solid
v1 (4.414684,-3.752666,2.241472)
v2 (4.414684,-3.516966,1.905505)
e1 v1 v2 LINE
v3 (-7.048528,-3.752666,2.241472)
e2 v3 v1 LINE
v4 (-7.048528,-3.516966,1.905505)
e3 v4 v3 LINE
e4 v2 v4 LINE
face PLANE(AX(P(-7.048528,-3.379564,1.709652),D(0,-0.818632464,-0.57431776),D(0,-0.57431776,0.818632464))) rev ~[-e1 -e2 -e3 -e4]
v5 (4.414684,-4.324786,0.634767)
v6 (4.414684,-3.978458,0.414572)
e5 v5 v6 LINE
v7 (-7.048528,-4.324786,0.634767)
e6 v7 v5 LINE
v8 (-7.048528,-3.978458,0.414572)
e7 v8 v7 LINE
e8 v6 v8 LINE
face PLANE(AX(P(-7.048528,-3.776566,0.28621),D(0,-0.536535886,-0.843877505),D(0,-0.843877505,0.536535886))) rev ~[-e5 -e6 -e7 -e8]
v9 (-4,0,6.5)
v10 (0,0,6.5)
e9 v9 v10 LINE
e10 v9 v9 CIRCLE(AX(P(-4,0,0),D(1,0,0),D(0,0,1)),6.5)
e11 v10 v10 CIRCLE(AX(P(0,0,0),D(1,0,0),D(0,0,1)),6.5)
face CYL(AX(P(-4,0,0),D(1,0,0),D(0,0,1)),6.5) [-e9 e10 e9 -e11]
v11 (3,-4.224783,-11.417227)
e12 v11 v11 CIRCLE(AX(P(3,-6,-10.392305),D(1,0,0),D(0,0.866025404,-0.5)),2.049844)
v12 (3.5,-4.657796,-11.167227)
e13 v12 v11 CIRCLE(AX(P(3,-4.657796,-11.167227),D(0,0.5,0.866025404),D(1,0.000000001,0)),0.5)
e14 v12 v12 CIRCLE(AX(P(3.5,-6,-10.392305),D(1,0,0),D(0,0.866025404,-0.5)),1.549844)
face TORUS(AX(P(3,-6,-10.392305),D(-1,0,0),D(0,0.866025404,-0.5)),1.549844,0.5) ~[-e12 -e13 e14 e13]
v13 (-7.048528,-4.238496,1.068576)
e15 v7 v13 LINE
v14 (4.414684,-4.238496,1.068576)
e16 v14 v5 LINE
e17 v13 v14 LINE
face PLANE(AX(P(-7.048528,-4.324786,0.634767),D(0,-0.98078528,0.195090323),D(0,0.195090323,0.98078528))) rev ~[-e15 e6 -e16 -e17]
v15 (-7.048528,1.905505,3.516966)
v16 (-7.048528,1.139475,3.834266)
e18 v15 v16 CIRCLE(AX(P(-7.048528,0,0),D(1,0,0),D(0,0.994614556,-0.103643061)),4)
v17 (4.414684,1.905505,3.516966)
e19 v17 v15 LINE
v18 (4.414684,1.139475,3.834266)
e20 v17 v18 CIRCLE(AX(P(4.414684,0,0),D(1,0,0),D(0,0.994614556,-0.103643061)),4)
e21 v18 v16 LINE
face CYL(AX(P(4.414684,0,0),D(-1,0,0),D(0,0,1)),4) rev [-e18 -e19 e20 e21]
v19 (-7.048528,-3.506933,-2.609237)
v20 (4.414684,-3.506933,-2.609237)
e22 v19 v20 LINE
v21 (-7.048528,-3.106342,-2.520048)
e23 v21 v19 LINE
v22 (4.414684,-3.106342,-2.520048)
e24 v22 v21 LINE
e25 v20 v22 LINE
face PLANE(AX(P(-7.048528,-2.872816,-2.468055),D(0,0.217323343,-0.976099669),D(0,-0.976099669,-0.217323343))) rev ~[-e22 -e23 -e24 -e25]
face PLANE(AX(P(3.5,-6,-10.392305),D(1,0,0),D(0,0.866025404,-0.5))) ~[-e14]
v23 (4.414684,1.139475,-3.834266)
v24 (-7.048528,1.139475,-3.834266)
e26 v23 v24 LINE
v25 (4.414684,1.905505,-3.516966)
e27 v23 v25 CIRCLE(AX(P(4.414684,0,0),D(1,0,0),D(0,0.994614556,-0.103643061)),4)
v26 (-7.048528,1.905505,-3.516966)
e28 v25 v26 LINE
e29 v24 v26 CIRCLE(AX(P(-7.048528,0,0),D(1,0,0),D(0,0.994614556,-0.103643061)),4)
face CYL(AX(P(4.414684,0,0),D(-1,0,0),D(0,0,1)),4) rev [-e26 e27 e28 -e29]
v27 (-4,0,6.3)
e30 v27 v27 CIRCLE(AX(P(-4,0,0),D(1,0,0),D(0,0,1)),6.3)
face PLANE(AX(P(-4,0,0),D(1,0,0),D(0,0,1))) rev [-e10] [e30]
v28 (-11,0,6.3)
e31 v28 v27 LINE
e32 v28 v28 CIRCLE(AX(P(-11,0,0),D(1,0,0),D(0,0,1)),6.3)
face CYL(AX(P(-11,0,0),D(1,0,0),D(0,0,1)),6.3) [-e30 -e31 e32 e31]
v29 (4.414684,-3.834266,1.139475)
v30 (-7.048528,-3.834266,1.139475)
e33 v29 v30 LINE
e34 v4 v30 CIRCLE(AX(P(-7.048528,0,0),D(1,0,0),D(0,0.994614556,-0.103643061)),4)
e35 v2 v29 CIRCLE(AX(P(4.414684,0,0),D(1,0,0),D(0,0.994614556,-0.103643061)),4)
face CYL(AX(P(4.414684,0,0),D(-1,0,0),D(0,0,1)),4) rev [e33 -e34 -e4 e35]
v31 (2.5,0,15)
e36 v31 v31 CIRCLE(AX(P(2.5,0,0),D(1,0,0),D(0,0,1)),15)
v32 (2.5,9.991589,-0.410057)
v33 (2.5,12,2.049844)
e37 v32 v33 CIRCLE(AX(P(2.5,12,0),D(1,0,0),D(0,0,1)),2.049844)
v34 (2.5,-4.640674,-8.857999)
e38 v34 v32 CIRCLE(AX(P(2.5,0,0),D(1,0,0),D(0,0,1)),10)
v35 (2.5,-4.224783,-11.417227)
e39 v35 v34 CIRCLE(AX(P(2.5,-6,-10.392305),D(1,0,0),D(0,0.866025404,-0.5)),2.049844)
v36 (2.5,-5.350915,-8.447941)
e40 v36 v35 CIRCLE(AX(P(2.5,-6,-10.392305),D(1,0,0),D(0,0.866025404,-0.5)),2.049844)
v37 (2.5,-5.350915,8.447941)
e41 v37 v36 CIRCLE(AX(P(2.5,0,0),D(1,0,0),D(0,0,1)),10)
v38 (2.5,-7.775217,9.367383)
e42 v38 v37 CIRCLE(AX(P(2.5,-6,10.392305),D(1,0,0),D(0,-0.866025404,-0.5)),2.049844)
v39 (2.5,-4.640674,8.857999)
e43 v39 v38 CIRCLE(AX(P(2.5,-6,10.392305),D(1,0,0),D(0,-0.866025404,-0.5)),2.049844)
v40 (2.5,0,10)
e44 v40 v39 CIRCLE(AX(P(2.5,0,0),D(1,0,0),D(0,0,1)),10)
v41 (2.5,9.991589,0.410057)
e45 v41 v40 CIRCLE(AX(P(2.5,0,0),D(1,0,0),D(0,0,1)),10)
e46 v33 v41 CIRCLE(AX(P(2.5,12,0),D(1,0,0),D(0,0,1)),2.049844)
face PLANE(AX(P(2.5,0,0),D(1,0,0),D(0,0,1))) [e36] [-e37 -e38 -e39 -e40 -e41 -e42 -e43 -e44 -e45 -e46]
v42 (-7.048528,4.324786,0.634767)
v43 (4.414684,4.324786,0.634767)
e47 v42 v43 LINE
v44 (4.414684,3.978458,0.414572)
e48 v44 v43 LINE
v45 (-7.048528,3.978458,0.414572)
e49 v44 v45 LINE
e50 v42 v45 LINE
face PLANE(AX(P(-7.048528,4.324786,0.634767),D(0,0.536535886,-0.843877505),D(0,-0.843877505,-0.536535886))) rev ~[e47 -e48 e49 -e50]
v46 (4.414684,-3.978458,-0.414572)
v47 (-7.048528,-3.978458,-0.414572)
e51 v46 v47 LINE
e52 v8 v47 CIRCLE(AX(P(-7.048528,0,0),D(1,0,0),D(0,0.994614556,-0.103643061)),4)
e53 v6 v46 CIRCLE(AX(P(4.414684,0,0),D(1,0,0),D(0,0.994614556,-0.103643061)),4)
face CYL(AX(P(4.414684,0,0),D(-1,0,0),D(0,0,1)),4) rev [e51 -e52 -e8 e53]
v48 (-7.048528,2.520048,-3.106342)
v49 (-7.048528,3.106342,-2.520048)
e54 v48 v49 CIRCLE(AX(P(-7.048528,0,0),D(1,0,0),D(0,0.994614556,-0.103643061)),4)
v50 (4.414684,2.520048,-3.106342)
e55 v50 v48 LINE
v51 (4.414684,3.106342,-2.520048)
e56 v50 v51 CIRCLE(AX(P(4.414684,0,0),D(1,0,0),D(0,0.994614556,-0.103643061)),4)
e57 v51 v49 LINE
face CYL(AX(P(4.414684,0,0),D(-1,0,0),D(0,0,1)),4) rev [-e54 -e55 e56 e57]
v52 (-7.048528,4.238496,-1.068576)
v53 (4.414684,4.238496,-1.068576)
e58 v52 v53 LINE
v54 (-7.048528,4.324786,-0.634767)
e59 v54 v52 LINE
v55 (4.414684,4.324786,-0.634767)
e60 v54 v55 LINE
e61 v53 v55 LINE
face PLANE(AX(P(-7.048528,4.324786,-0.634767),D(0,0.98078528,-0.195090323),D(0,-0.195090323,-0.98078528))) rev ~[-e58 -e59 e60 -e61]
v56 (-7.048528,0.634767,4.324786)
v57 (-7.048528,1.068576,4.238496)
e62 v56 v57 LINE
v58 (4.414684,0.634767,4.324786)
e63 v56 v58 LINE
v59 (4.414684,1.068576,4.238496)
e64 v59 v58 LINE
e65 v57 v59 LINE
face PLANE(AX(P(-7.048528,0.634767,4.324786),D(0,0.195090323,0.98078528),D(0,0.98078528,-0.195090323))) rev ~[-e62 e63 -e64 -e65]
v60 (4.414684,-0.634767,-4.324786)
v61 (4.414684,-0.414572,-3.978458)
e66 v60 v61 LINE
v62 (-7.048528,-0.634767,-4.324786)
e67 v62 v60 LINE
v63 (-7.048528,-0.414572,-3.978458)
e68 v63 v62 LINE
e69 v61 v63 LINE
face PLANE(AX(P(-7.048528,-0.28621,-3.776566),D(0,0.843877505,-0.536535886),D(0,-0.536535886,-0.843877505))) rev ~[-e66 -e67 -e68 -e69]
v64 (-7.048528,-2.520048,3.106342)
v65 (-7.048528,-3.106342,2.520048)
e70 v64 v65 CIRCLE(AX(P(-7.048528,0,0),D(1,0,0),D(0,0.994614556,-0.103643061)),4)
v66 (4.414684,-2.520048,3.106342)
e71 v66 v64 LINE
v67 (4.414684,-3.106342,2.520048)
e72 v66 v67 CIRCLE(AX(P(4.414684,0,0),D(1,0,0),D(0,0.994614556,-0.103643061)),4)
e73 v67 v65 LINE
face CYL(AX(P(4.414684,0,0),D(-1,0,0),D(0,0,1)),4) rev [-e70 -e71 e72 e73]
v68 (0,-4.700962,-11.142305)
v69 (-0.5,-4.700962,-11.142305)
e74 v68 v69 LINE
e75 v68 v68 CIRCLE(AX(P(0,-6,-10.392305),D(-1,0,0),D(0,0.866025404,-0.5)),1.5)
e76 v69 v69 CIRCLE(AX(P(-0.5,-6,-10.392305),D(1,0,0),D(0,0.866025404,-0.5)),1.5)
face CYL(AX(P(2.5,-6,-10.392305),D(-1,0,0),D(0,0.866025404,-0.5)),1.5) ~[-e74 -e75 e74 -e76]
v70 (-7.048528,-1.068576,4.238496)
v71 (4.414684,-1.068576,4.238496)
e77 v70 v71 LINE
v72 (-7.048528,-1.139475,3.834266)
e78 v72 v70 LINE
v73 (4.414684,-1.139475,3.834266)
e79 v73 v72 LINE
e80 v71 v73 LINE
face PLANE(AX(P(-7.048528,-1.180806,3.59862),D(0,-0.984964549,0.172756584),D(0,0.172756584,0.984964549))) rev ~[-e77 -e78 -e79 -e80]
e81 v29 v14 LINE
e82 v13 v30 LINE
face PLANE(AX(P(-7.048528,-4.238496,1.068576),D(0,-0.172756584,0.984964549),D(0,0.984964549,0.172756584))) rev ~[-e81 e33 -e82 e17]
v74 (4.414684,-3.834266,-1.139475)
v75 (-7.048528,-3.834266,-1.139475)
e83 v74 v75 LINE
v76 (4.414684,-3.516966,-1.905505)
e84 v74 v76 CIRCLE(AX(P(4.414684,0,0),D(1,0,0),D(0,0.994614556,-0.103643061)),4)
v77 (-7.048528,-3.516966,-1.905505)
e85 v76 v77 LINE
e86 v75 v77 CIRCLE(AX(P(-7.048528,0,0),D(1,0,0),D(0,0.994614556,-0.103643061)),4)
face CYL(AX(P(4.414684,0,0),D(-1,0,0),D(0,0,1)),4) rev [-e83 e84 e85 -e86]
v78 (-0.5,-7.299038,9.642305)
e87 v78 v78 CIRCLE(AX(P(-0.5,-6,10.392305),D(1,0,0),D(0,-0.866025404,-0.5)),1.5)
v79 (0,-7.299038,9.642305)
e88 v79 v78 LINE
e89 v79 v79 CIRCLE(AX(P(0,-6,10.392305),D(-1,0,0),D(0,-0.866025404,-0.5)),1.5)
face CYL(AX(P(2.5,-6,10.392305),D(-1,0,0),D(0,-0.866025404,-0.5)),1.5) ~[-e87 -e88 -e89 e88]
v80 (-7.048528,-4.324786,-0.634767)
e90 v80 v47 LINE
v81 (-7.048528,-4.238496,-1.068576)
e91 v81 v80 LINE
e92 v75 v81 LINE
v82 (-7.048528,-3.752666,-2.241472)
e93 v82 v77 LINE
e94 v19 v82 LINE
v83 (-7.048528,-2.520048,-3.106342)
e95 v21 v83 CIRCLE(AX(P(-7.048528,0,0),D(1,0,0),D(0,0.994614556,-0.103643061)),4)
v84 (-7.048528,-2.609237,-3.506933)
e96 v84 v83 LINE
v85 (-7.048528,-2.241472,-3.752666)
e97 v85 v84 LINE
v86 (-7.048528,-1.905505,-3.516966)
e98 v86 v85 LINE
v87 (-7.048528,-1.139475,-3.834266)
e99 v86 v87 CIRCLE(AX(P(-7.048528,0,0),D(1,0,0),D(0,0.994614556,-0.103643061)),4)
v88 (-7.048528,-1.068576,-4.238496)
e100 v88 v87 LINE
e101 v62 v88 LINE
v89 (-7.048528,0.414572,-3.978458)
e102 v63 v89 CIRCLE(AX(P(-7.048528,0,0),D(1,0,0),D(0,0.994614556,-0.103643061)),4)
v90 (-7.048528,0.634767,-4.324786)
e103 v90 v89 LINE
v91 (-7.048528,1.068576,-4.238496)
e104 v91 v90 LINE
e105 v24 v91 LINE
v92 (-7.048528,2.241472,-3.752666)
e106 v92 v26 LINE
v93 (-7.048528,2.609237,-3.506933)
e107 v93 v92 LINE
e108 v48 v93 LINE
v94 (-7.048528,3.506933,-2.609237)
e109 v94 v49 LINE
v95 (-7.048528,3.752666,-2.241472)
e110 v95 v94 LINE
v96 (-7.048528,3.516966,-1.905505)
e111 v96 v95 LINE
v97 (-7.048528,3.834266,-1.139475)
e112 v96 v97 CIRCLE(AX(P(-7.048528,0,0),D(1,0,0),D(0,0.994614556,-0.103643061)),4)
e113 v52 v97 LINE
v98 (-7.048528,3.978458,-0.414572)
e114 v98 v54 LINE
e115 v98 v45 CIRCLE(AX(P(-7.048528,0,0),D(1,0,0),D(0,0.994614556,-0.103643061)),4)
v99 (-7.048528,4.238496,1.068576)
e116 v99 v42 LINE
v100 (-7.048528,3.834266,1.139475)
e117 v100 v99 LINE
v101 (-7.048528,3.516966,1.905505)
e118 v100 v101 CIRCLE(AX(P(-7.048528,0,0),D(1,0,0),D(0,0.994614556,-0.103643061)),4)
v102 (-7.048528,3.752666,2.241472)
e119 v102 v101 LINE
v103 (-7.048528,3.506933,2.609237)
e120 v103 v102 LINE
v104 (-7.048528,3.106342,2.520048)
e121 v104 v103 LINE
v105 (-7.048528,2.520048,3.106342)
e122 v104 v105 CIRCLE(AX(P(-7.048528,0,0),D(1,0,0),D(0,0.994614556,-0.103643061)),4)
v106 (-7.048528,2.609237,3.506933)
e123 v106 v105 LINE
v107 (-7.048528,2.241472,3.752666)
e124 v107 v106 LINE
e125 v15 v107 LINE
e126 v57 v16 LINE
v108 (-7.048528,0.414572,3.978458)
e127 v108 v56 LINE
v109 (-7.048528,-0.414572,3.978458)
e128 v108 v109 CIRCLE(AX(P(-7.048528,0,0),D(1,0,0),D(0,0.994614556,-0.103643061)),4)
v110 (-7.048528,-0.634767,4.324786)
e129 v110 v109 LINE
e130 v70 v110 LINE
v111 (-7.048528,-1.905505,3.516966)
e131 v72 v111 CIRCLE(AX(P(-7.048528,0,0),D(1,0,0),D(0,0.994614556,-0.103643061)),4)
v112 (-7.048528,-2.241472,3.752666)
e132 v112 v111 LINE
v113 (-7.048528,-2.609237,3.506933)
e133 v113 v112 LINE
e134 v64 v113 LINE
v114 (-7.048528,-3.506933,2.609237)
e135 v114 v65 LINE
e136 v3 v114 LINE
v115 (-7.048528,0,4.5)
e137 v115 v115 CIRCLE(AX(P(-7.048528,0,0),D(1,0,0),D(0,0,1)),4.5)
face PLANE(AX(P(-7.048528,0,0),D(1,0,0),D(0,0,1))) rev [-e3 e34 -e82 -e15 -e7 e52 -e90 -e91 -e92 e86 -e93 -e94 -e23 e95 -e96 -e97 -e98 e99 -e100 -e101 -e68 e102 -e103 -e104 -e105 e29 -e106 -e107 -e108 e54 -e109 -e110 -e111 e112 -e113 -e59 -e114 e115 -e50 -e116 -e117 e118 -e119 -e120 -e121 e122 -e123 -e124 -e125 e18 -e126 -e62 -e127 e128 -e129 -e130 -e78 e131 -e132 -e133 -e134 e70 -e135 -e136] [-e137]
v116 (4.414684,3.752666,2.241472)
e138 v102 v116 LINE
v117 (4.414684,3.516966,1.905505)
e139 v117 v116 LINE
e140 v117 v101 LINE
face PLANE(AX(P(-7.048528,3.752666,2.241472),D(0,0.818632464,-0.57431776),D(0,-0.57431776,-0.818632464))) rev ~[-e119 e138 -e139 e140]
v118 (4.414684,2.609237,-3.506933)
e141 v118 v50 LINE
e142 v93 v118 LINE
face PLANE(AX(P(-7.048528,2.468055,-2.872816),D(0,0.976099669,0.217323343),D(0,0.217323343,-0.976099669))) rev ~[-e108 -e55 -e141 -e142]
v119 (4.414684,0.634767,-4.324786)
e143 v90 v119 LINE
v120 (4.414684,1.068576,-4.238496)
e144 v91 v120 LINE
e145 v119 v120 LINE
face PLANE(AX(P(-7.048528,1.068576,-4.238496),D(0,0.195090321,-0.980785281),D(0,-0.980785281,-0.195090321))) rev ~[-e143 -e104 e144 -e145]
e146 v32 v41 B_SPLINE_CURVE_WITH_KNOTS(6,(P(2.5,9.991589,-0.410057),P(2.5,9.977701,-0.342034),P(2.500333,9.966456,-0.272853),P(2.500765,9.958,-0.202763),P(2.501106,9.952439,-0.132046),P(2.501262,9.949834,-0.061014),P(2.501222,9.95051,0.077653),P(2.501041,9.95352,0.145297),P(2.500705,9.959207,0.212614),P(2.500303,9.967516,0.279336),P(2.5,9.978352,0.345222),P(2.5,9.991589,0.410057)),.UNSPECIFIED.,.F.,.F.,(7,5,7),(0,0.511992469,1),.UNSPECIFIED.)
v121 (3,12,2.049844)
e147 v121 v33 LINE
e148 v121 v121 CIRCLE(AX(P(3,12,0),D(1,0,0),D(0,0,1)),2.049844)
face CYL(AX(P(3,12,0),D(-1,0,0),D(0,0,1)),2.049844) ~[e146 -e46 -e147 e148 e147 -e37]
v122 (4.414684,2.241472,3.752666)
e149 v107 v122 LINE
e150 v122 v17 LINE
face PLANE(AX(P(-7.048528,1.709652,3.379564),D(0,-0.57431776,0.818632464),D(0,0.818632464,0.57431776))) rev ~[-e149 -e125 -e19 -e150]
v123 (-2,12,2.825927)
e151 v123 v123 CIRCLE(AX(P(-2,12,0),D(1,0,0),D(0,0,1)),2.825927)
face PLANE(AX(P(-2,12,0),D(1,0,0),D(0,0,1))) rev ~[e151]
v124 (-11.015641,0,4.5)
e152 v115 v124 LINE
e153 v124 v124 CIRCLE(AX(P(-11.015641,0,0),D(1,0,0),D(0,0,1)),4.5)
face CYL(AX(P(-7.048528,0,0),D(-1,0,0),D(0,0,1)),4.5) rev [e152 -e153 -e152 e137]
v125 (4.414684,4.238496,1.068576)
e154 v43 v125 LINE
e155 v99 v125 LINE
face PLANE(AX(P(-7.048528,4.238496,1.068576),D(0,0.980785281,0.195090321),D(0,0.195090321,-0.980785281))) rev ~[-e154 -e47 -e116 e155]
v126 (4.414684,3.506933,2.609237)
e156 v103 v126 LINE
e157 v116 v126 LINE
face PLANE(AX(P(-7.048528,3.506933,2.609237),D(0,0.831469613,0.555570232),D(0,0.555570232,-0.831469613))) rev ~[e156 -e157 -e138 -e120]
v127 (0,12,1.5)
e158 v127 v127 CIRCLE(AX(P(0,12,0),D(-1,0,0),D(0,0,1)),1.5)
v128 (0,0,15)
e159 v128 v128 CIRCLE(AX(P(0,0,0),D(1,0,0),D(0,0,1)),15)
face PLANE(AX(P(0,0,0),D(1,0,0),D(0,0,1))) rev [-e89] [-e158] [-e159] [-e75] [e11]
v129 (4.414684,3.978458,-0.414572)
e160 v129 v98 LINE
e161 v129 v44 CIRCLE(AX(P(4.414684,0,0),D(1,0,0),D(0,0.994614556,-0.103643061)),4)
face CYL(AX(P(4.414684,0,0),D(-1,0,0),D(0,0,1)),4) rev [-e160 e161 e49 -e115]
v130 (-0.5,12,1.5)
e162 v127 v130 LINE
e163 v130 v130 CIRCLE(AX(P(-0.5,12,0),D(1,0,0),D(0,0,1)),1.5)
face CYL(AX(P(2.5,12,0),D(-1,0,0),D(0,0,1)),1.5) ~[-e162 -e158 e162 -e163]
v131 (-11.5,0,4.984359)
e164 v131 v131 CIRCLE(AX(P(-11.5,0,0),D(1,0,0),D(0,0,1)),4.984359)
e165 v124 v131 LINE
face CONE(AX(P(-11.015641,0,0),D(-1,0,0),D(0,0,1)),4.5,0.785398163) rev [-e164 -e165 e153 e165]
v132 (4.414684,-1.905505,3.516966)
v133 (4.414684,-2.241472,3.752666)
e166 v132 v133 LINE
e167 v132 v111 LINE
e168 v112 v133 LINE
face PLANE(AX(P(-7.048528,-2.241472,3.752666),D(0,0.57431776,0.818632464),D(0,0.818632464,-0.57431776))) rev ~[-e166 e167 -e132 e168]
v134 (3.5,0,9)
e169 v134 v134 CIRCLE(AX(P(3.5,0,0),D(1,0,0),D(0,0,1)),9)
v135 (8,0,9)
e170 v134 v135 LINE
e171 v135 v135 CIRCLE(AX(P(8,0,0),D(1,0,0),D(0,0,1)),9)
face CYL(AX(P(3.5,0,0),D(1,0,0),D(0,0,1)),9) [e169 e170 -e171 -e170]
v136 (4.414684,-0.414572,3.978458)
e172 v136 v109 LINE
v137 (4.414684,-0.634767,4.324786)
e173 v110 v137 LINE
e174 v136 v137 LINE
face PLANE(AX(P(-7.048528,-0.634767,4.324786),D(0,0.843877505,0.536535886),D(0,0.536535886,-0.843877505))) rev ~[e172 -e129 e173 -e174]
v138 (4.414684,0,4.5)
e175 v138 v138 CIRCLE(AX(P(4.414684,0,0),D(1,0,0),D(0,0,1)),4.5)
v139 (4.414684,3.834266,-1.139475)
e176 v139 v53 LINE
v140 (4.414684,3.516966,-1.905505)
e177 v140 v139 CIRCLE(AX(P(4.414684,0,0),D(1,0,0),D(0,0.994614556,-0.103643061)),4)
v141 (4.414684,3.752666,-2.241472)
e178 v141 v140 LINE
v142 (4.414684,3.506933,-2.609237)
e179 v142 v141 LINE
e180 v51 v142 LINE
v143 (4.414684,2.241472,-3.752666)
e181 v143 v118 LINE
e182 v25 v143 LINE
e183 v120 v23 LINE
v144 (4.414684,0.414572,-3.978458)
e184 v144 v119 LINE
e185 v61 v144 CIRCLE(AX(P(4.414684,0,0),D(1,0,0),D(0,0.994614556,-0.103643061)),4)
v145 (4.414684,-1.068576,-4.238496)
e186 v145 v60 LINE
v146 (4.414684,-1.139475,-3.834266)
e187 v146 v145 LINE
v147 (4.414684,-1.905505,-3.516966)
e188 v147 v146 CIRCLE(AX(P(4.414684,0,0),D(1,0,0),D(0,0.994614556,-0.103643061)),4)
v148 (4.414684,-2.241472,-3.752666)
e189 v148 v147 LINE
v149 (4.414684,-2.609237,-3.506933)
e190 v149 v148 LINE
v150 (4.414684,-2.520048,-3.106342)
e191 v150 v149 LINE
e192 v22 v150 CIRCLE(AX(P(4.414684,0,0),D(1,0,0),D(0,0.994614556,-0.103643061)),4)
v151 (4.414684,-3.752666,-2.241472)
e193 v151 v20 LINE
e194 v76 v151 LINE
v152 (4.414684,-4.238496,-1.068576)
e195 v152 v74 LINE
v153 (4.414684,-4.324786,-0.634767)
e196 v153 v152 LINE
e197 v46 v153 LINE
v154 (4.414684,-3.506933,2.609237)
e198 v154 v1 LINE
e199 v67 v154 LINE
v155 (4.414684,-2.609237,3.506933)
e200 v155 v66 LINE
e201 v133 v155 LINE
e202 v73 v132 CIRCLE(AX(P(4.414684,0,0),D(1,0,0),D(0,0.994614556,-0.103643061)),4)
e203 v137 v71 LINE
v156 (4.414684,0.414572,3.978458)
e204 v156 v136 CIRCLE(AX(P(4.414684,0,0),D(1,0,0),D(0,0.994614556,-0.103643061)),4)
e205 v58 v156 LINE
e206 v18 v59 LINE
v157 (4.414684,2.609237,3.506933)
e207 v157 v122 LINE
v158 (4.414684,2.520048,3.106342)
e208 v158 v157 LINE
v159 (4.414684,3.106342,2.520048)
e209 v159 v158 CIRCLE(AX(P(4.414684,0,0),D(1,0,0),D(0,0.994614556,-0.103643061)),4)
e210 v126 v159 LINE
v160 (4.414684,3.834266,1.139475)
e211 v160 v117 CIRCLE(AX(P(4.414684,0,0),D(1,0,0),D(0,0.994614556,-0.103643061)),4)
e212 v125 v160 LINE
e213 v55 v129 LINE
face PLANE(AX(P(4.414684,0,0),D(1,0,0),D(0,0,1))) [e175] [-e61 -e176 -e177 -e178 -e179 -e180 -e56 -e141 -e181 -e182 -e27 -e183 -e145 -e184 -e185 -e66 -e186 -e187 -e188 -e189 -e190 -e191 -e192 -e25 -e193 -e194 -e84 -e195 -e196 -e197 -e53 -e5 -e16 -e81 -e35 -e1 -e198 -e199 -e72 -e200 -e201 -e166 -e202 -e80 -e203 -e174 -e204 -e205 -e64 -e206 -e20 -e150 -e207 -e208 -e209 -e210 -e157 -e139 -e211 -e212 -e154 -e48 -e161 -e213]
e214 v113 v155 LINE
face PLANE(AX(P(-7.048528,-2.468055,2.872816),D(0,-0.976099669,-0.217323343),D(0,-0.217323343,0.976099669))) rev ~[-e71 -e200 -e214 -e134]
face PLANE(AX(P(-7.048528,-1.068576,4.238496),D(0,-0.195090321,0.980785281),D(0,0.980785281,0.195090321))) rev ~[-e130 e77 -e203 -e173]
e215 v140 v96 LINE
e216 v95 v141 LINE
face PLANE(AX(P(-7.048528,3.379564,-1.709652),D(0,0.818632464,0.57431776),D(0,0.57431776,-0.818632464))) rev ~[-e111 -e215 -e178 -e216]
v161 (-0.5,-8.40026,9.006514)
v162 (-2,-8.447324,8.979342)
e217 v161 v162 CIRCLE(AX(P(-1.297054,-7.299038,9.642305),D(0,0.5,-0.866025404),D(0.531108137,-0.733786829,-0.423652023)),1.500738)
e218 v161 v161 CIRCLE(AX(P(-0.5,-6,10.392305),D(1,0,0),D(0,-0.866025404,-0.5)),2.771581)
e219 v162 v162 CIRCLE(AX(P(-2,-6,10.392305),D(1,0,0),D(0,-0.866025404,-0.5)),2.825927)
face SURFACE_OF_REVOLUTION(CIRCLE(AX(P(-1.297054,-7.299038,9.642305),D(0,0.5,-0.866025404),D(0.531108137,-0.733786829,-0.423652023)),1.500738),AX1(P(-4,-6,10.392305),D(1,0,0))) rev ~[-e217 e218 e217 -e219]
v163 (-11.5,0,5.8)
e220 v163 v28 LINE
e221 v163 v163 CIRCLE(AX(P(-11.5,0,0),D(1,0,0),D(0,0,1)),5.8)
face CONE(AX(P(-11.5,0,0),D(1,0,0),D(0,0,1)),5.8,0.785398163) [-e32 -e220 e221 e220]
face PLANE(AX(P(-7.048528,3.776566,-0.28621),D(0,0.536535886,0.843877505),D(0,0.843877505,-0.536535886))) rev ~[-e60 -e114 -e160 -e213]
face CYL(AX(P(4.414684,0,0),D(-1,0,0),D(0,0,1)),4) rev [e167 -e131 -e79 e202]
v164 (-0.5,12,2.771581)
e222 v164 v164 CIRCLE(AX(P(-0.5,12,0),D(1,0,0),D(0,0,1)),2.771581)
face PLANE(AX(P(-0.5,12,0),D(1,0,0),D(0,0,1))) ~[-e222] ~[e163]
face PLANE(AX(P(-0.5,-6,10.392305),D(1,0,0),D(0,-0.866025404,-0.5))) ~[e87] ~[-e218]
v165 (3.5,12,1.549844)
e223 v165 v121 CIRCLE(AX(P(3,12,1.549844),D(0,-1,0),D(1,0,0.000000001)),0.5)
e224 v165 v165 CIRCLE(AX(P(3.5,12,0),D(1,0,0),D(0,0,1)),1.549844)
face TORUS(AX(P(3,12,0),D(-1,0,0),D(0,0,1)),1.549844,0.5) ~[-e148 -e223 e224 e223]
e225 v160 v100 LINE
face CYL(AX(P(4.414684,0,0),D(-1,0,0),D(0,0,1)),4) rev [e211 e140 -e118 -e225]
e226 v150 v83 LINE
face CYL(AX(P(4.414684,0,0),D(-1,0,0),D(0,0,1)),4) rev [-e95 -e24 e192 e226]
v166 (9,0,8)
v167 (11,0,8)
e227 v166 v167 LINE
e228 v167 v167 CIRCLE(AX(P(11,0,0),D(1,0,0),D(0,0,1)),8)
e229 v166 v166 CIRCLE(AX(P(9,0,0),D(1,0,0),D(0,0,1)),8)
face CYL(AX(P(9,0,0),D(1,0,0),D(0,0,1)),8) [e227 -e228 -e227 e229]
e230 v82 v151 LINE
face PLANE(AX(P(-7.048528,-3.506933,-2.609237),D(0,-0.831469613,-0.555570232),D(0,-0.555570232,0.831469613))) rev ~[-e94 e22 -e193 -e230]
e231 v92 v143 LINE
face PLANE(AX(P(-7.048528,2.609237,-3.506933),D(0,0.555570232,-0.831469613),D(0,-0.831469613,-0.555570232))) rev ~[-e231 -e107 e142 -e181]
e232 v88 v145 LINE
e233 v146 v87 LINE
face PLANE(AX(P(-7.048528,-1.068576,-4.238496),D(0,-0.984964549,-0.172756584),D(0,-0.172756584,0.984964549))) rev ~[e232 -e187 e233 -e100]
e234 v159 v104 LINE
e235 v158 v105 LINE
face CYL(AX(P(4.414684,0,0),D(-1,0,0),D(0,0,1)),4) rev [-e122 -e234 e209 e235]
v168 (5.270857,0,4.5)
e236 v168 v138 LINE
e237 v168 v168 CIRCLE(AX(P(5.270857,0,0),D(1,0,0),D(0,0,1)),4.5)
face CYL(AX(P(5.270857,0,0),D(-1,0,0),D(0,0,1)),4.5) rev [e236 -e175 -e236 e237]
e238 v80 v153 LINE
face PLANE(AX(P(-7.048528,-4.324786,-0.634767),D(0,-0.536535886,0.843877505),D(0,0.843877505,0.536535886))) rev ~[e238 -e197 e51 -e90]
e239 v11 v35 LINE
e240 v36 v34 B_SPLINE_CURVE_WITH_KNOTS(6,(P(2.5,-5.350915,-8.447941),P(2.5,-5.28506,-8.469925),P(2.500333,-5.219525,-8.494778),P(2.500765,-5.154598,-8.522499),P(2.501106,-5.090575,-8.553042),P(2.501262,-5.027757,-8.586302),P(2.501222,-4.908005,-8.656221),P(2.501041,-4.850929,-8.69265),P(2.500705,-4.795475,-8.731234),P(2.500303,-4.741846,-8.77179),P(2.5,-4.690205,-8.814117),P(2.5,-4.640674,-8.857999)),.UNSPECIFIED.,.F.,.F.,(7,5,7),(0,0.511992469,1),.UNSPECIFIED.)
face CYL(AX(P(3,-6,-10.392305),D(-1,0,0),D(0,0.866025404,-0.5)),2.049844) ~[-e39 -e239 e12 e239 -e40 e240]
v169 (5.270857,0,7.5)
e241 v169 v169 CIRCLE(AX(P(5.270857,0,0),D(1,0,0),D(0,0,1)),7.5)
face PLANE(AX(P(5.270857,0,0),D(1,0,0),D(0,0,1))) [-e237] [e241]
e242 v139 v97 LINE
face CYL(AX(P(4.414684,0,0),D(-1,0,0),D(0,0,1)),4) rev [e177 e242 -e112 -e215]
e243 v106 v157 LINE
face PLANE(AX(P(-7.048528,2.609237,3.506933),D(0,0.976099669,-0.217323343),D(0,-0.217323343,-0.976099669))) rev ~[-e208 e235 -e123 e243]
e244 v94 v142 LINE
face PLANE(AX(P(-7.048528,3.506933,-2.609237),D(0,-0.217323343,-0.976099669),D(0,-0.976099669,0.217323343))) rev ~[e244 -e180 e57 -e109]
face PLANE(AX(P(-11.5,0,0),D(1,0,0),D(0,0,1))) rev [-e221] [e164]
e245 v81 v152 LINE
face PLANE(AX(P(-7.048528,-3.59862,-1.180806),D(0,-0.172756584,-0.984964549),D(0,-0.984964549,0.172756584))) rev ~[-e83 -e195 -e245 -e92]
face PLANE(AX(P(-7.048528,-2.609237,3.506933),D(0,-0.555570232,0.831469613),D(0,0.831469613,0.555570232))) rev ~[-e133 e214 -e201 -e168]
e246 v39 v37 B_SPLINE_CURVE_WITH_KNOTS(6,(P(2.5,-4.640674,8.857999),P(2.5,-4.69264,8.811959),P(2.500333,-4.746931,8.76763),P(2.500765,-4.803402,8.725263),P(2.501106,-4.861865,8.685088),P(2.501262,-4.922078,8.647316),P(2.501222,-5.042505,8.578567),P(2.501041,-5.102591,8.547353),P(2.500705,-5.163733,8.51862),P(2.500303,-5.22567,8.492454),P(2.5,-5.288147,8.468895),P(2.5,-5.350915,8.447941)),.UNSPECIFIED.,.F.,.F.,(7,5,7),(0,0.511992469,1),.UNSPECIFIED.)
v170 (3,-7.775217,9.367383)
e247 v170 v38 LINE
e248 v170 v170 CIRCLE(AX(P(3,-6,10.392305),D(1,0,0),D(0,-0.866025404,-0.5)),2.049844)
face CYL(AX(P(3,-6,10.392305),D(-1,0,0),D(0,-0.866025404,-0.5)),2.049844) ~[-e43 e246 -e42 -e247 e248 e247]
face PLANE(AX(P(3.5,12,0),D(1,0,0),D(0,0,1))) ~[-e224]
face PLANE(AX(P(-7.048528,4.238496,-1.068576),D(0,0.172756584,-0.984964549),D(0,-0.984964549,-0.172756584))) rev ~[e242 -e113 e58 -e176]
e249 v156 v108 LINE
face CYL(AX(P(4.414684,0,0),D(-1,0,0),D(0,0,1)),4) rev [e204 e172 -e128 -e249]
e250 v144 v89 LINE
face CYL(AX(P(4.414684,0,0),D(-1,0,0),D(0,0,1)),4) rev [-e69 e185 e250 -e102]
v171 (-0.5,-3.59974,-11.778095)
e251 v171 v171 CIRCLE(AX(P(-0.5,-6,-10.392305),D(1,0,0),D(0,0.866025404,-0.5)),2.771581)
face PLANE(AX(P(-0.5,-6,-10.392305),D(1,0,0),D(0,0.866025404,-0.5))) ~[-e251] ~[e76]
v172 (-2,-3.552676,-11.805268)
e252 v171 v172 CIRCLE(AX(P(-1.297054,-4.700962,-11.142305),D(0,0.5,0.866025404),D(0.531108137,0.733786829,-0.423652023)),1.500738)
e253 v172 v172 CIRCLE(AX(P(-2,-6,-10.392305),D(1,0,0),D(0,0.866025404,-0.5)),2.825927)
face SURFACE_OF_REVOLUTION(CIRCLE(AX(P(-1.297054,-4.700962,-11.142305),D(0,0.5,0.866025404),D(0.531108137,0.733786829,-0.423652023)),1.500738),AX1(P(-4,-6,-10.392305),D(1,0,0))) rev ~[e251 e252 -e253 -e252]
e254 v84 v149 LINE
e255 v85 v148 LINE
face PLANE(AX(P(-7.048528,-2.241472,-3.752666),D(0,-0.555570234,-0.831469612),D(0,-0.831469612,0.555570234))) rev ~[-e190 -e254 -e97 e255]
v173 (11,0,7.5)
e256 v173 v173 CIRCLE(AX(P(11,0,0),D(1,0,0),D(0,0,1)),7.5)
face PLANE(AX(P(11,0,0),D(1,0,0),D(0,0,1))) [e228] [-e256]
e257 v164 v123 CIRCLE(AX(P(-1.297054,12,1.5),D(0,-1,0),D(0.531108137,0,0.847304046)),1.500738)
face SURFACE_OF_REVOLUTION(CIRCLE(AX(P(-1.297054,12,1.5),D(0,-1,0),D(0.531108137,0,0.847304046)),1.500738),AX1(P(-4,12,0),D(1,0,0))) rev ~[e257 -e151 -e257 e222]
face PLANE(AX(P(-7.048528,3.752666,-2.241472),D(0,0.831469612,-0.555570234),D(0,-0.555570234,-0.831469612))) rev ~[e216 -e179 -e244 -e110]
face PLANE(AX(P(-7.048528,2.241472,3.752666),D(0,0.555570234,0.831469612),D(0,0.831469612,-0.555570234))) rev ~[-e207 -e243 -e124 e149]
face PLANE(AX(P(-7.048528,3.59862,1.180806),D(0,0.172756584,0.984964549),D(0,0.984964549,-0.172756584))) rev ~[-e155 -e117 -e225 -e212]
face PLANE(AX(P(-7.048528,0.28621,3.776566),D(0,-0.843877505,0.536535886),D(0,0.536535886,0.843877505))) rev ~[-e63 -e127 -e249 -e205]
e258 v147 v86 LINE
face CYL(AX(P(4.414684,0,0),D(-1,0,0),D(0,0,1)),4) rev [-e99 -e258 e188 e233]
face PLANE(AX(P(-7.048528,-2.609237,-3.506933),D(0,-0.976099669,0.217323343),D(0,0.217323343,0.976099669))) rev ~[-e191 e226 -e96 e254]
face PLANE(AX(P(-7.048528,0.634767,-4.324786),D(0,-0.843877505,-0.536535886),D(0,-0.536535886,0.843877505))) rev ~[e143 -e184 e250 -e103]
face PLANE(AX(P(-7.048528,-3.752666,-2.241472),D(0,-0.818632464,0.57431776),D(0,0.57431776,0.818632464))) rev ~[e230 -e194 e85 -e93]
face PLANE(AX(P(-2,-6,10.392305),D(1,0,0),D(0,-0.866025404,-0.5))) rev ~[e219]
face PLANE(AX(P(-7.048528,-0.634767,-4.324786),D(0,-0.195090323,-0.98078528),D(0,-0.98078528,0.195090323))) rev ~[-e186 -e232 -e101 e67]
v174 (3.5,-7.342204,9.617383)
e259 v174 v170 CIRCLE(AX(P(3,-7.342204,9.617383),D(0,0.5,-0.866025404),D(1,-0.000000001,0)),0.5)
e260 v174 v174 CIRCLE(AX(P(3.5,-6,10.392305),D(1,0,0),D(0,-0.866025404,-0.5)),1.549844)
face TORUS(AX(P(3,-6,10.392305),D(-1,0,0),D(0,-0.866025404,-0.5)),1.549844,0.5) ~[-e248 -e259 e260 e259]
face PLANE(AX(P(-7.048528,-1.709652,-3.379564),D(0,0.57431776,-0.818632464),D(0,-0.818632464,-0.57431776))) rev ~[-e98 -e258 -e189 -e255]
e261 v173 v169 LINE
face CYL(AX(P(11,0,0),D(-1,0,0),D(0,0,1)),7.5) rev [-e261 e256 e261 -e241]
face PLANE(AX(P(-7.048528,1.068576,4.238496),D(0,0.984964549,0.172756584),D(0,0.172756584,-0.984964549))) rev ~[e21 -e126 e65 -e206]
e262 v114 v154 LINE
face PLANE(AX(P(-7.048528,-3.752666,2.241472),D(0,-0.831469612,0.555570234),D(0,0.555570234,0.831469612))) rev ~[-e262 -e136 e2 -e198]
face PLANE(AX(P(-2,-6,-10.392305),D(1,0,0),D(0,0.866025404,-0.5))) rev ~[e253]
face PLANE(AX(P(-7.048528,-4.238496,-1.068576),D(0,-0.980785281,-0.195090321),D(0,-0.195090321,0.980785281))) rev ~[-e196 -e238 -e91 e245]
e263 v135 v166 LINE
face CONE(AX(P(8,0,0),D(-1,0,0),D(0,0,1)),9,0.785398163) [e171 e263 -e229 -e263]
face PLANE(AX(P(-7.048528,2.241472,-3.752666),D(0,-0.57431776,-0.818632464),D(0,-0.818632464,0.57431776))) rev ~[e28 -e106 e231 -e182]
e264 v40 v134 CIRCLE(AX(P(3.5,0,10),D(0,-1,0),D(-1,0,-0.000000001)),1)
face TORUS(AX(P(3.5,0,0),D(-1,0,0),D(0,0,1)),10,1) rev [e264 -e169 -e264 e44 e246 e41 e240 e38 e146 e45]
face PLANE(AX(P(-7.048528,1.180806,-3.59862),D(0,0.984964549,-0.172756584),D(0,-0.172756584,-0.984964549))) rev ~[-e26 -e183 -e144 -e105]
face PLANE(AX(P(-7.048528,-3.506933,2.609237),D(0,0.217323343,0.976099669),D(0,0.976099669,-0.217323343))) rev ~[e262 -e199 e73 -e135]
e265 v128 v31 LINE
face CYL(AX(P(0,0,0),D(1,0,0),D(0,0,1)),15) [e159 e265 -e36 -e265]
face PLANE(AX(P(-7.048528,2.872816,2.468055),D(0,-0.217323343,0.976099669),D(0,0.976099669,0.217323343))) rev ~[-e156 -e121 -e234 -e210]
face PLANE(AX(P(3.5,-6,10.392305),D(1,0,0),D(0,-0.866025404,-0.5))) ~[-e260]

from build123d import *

# Parameters (mm, degrees)
R_P_TITION_CIRCULAIRE1_COUNT = 3
ENL_V_MAT_EXTRU_1_DEPTH      = 28.852674991
R_P_TITION_CIRCULAIRE2_COUNT = 16


with BuildPart() as part:
    # Esquisse1 → Base-Révolution (revolve)
    with BuildSketch(Plane.XY, mode=Mode.PRIVATE) as base_r_volution_sk:
        with BuildLine():
            Line((0, 6.5), (0, 15))
            Line((0, 15), (2.5, 15))
            Line((2.5, 15), (2.5, 10))
            ThreePointArc((2.5, 10), (2.792893219, 9.292893219), (3.5, 9))
            Line((3.5, 9), (8, 9))
            Line((8, 9), (9, 8))
            Line((9, 8), (11, 8))
            Line((11, 8), (11, 7.5))
            Line((11, 7.5), (5.270857301, 7.5))
            Line((5.270857301, 7.5), (5.270857301, 4.5))
            Line((5.270857301, 4.5), (4.414683801, 4.5))
            Line((4.414683801, 4.5), (4.414683801, 4))
            Line((4.414683801, 4), (-7.048528061, 4))
            Line((-7.048528061, 4), (-7.048528061, 4.5))
            Line((-7.048528061, 4.5), (-11.015640849, 4.5))
            Line((-11.015640849, 4.5), (-11.5, 4.984359151))
            Line((-11.5, 4.984359151), (-11.5, 5.8))
            Line((-11.5, 5.8), (-11, 6.3))
            Line((-11, 6.3), (-4, 6.3))
            Line((-4, 6.3), (-4, 6.5))
            Line((-4, 6.5), (0, 6.5))
        make_face()
    revolve(base_r_volution_sk.sketch.rotate(Axis((0, 0, 0), (1, 0, 0)), 90), axis=Axis((0, 0, 0), (1, 0, 0)))

    # Esquisse2 → Boss.-Révol.1 (revolve)
    with BuildSketch(Plane.XY, mode=Mode.PRIVATE) as boss_r_vol_1_sk:
        with BuildLine():
            Line((-2, 14.825926515), (-2, 12))
            Line((-2, 12), (3.5, 12))
            Line((3.5, 12), (3.5, 13.549844237))
            ThreePointArc((3.5, 13.549844237), (3.353553391, 13.903397627), (3, 14.049844237))
            Line((3, 14.049844237), (2.5, 14.049844237))
            Line((2.5, 14.049844237), (2.5, 13.5))
            Line((2.5, 13.5), (-0.5, 13.5))
            Line((-0.5, 13.5), (-0.5, 14.77158125))
            ThreePointArc((-0.5, 14.77158125), (-1.242717735, 14.999753862), (-2, 14.825926515))
        make_face()
    boss_r_vol_1 = revolve(boss_r_vol_1_sk.sketch.rotate(Axis((-4, 12, 0), (1, 0, 0)), 90), axis=Axis((-4, 12, 0), (1, 0, 0)))

    # Répétition circulaire1: Boss.-Révol.1 ×3 about axis
    r_p_tition_circulaire1_axis = Axis((0, 0, 0), (1, 0, 0))
    for i in range(1, R_P_TITION_CIRCULAIRE1_COUNT):
        add(boss_r_vol_1.rotate(r_p_tition_circulaire1_axis, i * 360 / R_P_TITION_CIRCULAIRE1_COUNT))

    # Esquisse3 → Enlèv. mat.-Extru.1 (cut, through all)
    with BuildSketch(Plane.ZY.offset(7.048528061)):
        Polygon((-0.28620955, 3.776566067), (-0.634766699, 4.324785757), (-1.068575897, 4.238495742), (-1.18080612, 3.598619746), align=None)
    enl_v_mat_extru_1 = extrude(amount=-ENL_V_MAT_EXTRU_1_DEPTH, mode=Mode.SUBTRACT)

    # Répétition circulaire2: Enlèv. mat.-Extru.1 ×16 about axis
    r_p_tition_circulaire2_axis = Axis((0, 0, 0), (1, 0, 0))
    for i in range(1, R_P_TITION_CIRCULAIRE2_COUNT):
        add(enl_v_mat_extru_1.rotate(r_p_tition_circulaire2_axis, i * 360 / R_P_TITION_CIRCULAIRE2_COUNT), mode=Mode.SUBTRACT)


solid = part.part
